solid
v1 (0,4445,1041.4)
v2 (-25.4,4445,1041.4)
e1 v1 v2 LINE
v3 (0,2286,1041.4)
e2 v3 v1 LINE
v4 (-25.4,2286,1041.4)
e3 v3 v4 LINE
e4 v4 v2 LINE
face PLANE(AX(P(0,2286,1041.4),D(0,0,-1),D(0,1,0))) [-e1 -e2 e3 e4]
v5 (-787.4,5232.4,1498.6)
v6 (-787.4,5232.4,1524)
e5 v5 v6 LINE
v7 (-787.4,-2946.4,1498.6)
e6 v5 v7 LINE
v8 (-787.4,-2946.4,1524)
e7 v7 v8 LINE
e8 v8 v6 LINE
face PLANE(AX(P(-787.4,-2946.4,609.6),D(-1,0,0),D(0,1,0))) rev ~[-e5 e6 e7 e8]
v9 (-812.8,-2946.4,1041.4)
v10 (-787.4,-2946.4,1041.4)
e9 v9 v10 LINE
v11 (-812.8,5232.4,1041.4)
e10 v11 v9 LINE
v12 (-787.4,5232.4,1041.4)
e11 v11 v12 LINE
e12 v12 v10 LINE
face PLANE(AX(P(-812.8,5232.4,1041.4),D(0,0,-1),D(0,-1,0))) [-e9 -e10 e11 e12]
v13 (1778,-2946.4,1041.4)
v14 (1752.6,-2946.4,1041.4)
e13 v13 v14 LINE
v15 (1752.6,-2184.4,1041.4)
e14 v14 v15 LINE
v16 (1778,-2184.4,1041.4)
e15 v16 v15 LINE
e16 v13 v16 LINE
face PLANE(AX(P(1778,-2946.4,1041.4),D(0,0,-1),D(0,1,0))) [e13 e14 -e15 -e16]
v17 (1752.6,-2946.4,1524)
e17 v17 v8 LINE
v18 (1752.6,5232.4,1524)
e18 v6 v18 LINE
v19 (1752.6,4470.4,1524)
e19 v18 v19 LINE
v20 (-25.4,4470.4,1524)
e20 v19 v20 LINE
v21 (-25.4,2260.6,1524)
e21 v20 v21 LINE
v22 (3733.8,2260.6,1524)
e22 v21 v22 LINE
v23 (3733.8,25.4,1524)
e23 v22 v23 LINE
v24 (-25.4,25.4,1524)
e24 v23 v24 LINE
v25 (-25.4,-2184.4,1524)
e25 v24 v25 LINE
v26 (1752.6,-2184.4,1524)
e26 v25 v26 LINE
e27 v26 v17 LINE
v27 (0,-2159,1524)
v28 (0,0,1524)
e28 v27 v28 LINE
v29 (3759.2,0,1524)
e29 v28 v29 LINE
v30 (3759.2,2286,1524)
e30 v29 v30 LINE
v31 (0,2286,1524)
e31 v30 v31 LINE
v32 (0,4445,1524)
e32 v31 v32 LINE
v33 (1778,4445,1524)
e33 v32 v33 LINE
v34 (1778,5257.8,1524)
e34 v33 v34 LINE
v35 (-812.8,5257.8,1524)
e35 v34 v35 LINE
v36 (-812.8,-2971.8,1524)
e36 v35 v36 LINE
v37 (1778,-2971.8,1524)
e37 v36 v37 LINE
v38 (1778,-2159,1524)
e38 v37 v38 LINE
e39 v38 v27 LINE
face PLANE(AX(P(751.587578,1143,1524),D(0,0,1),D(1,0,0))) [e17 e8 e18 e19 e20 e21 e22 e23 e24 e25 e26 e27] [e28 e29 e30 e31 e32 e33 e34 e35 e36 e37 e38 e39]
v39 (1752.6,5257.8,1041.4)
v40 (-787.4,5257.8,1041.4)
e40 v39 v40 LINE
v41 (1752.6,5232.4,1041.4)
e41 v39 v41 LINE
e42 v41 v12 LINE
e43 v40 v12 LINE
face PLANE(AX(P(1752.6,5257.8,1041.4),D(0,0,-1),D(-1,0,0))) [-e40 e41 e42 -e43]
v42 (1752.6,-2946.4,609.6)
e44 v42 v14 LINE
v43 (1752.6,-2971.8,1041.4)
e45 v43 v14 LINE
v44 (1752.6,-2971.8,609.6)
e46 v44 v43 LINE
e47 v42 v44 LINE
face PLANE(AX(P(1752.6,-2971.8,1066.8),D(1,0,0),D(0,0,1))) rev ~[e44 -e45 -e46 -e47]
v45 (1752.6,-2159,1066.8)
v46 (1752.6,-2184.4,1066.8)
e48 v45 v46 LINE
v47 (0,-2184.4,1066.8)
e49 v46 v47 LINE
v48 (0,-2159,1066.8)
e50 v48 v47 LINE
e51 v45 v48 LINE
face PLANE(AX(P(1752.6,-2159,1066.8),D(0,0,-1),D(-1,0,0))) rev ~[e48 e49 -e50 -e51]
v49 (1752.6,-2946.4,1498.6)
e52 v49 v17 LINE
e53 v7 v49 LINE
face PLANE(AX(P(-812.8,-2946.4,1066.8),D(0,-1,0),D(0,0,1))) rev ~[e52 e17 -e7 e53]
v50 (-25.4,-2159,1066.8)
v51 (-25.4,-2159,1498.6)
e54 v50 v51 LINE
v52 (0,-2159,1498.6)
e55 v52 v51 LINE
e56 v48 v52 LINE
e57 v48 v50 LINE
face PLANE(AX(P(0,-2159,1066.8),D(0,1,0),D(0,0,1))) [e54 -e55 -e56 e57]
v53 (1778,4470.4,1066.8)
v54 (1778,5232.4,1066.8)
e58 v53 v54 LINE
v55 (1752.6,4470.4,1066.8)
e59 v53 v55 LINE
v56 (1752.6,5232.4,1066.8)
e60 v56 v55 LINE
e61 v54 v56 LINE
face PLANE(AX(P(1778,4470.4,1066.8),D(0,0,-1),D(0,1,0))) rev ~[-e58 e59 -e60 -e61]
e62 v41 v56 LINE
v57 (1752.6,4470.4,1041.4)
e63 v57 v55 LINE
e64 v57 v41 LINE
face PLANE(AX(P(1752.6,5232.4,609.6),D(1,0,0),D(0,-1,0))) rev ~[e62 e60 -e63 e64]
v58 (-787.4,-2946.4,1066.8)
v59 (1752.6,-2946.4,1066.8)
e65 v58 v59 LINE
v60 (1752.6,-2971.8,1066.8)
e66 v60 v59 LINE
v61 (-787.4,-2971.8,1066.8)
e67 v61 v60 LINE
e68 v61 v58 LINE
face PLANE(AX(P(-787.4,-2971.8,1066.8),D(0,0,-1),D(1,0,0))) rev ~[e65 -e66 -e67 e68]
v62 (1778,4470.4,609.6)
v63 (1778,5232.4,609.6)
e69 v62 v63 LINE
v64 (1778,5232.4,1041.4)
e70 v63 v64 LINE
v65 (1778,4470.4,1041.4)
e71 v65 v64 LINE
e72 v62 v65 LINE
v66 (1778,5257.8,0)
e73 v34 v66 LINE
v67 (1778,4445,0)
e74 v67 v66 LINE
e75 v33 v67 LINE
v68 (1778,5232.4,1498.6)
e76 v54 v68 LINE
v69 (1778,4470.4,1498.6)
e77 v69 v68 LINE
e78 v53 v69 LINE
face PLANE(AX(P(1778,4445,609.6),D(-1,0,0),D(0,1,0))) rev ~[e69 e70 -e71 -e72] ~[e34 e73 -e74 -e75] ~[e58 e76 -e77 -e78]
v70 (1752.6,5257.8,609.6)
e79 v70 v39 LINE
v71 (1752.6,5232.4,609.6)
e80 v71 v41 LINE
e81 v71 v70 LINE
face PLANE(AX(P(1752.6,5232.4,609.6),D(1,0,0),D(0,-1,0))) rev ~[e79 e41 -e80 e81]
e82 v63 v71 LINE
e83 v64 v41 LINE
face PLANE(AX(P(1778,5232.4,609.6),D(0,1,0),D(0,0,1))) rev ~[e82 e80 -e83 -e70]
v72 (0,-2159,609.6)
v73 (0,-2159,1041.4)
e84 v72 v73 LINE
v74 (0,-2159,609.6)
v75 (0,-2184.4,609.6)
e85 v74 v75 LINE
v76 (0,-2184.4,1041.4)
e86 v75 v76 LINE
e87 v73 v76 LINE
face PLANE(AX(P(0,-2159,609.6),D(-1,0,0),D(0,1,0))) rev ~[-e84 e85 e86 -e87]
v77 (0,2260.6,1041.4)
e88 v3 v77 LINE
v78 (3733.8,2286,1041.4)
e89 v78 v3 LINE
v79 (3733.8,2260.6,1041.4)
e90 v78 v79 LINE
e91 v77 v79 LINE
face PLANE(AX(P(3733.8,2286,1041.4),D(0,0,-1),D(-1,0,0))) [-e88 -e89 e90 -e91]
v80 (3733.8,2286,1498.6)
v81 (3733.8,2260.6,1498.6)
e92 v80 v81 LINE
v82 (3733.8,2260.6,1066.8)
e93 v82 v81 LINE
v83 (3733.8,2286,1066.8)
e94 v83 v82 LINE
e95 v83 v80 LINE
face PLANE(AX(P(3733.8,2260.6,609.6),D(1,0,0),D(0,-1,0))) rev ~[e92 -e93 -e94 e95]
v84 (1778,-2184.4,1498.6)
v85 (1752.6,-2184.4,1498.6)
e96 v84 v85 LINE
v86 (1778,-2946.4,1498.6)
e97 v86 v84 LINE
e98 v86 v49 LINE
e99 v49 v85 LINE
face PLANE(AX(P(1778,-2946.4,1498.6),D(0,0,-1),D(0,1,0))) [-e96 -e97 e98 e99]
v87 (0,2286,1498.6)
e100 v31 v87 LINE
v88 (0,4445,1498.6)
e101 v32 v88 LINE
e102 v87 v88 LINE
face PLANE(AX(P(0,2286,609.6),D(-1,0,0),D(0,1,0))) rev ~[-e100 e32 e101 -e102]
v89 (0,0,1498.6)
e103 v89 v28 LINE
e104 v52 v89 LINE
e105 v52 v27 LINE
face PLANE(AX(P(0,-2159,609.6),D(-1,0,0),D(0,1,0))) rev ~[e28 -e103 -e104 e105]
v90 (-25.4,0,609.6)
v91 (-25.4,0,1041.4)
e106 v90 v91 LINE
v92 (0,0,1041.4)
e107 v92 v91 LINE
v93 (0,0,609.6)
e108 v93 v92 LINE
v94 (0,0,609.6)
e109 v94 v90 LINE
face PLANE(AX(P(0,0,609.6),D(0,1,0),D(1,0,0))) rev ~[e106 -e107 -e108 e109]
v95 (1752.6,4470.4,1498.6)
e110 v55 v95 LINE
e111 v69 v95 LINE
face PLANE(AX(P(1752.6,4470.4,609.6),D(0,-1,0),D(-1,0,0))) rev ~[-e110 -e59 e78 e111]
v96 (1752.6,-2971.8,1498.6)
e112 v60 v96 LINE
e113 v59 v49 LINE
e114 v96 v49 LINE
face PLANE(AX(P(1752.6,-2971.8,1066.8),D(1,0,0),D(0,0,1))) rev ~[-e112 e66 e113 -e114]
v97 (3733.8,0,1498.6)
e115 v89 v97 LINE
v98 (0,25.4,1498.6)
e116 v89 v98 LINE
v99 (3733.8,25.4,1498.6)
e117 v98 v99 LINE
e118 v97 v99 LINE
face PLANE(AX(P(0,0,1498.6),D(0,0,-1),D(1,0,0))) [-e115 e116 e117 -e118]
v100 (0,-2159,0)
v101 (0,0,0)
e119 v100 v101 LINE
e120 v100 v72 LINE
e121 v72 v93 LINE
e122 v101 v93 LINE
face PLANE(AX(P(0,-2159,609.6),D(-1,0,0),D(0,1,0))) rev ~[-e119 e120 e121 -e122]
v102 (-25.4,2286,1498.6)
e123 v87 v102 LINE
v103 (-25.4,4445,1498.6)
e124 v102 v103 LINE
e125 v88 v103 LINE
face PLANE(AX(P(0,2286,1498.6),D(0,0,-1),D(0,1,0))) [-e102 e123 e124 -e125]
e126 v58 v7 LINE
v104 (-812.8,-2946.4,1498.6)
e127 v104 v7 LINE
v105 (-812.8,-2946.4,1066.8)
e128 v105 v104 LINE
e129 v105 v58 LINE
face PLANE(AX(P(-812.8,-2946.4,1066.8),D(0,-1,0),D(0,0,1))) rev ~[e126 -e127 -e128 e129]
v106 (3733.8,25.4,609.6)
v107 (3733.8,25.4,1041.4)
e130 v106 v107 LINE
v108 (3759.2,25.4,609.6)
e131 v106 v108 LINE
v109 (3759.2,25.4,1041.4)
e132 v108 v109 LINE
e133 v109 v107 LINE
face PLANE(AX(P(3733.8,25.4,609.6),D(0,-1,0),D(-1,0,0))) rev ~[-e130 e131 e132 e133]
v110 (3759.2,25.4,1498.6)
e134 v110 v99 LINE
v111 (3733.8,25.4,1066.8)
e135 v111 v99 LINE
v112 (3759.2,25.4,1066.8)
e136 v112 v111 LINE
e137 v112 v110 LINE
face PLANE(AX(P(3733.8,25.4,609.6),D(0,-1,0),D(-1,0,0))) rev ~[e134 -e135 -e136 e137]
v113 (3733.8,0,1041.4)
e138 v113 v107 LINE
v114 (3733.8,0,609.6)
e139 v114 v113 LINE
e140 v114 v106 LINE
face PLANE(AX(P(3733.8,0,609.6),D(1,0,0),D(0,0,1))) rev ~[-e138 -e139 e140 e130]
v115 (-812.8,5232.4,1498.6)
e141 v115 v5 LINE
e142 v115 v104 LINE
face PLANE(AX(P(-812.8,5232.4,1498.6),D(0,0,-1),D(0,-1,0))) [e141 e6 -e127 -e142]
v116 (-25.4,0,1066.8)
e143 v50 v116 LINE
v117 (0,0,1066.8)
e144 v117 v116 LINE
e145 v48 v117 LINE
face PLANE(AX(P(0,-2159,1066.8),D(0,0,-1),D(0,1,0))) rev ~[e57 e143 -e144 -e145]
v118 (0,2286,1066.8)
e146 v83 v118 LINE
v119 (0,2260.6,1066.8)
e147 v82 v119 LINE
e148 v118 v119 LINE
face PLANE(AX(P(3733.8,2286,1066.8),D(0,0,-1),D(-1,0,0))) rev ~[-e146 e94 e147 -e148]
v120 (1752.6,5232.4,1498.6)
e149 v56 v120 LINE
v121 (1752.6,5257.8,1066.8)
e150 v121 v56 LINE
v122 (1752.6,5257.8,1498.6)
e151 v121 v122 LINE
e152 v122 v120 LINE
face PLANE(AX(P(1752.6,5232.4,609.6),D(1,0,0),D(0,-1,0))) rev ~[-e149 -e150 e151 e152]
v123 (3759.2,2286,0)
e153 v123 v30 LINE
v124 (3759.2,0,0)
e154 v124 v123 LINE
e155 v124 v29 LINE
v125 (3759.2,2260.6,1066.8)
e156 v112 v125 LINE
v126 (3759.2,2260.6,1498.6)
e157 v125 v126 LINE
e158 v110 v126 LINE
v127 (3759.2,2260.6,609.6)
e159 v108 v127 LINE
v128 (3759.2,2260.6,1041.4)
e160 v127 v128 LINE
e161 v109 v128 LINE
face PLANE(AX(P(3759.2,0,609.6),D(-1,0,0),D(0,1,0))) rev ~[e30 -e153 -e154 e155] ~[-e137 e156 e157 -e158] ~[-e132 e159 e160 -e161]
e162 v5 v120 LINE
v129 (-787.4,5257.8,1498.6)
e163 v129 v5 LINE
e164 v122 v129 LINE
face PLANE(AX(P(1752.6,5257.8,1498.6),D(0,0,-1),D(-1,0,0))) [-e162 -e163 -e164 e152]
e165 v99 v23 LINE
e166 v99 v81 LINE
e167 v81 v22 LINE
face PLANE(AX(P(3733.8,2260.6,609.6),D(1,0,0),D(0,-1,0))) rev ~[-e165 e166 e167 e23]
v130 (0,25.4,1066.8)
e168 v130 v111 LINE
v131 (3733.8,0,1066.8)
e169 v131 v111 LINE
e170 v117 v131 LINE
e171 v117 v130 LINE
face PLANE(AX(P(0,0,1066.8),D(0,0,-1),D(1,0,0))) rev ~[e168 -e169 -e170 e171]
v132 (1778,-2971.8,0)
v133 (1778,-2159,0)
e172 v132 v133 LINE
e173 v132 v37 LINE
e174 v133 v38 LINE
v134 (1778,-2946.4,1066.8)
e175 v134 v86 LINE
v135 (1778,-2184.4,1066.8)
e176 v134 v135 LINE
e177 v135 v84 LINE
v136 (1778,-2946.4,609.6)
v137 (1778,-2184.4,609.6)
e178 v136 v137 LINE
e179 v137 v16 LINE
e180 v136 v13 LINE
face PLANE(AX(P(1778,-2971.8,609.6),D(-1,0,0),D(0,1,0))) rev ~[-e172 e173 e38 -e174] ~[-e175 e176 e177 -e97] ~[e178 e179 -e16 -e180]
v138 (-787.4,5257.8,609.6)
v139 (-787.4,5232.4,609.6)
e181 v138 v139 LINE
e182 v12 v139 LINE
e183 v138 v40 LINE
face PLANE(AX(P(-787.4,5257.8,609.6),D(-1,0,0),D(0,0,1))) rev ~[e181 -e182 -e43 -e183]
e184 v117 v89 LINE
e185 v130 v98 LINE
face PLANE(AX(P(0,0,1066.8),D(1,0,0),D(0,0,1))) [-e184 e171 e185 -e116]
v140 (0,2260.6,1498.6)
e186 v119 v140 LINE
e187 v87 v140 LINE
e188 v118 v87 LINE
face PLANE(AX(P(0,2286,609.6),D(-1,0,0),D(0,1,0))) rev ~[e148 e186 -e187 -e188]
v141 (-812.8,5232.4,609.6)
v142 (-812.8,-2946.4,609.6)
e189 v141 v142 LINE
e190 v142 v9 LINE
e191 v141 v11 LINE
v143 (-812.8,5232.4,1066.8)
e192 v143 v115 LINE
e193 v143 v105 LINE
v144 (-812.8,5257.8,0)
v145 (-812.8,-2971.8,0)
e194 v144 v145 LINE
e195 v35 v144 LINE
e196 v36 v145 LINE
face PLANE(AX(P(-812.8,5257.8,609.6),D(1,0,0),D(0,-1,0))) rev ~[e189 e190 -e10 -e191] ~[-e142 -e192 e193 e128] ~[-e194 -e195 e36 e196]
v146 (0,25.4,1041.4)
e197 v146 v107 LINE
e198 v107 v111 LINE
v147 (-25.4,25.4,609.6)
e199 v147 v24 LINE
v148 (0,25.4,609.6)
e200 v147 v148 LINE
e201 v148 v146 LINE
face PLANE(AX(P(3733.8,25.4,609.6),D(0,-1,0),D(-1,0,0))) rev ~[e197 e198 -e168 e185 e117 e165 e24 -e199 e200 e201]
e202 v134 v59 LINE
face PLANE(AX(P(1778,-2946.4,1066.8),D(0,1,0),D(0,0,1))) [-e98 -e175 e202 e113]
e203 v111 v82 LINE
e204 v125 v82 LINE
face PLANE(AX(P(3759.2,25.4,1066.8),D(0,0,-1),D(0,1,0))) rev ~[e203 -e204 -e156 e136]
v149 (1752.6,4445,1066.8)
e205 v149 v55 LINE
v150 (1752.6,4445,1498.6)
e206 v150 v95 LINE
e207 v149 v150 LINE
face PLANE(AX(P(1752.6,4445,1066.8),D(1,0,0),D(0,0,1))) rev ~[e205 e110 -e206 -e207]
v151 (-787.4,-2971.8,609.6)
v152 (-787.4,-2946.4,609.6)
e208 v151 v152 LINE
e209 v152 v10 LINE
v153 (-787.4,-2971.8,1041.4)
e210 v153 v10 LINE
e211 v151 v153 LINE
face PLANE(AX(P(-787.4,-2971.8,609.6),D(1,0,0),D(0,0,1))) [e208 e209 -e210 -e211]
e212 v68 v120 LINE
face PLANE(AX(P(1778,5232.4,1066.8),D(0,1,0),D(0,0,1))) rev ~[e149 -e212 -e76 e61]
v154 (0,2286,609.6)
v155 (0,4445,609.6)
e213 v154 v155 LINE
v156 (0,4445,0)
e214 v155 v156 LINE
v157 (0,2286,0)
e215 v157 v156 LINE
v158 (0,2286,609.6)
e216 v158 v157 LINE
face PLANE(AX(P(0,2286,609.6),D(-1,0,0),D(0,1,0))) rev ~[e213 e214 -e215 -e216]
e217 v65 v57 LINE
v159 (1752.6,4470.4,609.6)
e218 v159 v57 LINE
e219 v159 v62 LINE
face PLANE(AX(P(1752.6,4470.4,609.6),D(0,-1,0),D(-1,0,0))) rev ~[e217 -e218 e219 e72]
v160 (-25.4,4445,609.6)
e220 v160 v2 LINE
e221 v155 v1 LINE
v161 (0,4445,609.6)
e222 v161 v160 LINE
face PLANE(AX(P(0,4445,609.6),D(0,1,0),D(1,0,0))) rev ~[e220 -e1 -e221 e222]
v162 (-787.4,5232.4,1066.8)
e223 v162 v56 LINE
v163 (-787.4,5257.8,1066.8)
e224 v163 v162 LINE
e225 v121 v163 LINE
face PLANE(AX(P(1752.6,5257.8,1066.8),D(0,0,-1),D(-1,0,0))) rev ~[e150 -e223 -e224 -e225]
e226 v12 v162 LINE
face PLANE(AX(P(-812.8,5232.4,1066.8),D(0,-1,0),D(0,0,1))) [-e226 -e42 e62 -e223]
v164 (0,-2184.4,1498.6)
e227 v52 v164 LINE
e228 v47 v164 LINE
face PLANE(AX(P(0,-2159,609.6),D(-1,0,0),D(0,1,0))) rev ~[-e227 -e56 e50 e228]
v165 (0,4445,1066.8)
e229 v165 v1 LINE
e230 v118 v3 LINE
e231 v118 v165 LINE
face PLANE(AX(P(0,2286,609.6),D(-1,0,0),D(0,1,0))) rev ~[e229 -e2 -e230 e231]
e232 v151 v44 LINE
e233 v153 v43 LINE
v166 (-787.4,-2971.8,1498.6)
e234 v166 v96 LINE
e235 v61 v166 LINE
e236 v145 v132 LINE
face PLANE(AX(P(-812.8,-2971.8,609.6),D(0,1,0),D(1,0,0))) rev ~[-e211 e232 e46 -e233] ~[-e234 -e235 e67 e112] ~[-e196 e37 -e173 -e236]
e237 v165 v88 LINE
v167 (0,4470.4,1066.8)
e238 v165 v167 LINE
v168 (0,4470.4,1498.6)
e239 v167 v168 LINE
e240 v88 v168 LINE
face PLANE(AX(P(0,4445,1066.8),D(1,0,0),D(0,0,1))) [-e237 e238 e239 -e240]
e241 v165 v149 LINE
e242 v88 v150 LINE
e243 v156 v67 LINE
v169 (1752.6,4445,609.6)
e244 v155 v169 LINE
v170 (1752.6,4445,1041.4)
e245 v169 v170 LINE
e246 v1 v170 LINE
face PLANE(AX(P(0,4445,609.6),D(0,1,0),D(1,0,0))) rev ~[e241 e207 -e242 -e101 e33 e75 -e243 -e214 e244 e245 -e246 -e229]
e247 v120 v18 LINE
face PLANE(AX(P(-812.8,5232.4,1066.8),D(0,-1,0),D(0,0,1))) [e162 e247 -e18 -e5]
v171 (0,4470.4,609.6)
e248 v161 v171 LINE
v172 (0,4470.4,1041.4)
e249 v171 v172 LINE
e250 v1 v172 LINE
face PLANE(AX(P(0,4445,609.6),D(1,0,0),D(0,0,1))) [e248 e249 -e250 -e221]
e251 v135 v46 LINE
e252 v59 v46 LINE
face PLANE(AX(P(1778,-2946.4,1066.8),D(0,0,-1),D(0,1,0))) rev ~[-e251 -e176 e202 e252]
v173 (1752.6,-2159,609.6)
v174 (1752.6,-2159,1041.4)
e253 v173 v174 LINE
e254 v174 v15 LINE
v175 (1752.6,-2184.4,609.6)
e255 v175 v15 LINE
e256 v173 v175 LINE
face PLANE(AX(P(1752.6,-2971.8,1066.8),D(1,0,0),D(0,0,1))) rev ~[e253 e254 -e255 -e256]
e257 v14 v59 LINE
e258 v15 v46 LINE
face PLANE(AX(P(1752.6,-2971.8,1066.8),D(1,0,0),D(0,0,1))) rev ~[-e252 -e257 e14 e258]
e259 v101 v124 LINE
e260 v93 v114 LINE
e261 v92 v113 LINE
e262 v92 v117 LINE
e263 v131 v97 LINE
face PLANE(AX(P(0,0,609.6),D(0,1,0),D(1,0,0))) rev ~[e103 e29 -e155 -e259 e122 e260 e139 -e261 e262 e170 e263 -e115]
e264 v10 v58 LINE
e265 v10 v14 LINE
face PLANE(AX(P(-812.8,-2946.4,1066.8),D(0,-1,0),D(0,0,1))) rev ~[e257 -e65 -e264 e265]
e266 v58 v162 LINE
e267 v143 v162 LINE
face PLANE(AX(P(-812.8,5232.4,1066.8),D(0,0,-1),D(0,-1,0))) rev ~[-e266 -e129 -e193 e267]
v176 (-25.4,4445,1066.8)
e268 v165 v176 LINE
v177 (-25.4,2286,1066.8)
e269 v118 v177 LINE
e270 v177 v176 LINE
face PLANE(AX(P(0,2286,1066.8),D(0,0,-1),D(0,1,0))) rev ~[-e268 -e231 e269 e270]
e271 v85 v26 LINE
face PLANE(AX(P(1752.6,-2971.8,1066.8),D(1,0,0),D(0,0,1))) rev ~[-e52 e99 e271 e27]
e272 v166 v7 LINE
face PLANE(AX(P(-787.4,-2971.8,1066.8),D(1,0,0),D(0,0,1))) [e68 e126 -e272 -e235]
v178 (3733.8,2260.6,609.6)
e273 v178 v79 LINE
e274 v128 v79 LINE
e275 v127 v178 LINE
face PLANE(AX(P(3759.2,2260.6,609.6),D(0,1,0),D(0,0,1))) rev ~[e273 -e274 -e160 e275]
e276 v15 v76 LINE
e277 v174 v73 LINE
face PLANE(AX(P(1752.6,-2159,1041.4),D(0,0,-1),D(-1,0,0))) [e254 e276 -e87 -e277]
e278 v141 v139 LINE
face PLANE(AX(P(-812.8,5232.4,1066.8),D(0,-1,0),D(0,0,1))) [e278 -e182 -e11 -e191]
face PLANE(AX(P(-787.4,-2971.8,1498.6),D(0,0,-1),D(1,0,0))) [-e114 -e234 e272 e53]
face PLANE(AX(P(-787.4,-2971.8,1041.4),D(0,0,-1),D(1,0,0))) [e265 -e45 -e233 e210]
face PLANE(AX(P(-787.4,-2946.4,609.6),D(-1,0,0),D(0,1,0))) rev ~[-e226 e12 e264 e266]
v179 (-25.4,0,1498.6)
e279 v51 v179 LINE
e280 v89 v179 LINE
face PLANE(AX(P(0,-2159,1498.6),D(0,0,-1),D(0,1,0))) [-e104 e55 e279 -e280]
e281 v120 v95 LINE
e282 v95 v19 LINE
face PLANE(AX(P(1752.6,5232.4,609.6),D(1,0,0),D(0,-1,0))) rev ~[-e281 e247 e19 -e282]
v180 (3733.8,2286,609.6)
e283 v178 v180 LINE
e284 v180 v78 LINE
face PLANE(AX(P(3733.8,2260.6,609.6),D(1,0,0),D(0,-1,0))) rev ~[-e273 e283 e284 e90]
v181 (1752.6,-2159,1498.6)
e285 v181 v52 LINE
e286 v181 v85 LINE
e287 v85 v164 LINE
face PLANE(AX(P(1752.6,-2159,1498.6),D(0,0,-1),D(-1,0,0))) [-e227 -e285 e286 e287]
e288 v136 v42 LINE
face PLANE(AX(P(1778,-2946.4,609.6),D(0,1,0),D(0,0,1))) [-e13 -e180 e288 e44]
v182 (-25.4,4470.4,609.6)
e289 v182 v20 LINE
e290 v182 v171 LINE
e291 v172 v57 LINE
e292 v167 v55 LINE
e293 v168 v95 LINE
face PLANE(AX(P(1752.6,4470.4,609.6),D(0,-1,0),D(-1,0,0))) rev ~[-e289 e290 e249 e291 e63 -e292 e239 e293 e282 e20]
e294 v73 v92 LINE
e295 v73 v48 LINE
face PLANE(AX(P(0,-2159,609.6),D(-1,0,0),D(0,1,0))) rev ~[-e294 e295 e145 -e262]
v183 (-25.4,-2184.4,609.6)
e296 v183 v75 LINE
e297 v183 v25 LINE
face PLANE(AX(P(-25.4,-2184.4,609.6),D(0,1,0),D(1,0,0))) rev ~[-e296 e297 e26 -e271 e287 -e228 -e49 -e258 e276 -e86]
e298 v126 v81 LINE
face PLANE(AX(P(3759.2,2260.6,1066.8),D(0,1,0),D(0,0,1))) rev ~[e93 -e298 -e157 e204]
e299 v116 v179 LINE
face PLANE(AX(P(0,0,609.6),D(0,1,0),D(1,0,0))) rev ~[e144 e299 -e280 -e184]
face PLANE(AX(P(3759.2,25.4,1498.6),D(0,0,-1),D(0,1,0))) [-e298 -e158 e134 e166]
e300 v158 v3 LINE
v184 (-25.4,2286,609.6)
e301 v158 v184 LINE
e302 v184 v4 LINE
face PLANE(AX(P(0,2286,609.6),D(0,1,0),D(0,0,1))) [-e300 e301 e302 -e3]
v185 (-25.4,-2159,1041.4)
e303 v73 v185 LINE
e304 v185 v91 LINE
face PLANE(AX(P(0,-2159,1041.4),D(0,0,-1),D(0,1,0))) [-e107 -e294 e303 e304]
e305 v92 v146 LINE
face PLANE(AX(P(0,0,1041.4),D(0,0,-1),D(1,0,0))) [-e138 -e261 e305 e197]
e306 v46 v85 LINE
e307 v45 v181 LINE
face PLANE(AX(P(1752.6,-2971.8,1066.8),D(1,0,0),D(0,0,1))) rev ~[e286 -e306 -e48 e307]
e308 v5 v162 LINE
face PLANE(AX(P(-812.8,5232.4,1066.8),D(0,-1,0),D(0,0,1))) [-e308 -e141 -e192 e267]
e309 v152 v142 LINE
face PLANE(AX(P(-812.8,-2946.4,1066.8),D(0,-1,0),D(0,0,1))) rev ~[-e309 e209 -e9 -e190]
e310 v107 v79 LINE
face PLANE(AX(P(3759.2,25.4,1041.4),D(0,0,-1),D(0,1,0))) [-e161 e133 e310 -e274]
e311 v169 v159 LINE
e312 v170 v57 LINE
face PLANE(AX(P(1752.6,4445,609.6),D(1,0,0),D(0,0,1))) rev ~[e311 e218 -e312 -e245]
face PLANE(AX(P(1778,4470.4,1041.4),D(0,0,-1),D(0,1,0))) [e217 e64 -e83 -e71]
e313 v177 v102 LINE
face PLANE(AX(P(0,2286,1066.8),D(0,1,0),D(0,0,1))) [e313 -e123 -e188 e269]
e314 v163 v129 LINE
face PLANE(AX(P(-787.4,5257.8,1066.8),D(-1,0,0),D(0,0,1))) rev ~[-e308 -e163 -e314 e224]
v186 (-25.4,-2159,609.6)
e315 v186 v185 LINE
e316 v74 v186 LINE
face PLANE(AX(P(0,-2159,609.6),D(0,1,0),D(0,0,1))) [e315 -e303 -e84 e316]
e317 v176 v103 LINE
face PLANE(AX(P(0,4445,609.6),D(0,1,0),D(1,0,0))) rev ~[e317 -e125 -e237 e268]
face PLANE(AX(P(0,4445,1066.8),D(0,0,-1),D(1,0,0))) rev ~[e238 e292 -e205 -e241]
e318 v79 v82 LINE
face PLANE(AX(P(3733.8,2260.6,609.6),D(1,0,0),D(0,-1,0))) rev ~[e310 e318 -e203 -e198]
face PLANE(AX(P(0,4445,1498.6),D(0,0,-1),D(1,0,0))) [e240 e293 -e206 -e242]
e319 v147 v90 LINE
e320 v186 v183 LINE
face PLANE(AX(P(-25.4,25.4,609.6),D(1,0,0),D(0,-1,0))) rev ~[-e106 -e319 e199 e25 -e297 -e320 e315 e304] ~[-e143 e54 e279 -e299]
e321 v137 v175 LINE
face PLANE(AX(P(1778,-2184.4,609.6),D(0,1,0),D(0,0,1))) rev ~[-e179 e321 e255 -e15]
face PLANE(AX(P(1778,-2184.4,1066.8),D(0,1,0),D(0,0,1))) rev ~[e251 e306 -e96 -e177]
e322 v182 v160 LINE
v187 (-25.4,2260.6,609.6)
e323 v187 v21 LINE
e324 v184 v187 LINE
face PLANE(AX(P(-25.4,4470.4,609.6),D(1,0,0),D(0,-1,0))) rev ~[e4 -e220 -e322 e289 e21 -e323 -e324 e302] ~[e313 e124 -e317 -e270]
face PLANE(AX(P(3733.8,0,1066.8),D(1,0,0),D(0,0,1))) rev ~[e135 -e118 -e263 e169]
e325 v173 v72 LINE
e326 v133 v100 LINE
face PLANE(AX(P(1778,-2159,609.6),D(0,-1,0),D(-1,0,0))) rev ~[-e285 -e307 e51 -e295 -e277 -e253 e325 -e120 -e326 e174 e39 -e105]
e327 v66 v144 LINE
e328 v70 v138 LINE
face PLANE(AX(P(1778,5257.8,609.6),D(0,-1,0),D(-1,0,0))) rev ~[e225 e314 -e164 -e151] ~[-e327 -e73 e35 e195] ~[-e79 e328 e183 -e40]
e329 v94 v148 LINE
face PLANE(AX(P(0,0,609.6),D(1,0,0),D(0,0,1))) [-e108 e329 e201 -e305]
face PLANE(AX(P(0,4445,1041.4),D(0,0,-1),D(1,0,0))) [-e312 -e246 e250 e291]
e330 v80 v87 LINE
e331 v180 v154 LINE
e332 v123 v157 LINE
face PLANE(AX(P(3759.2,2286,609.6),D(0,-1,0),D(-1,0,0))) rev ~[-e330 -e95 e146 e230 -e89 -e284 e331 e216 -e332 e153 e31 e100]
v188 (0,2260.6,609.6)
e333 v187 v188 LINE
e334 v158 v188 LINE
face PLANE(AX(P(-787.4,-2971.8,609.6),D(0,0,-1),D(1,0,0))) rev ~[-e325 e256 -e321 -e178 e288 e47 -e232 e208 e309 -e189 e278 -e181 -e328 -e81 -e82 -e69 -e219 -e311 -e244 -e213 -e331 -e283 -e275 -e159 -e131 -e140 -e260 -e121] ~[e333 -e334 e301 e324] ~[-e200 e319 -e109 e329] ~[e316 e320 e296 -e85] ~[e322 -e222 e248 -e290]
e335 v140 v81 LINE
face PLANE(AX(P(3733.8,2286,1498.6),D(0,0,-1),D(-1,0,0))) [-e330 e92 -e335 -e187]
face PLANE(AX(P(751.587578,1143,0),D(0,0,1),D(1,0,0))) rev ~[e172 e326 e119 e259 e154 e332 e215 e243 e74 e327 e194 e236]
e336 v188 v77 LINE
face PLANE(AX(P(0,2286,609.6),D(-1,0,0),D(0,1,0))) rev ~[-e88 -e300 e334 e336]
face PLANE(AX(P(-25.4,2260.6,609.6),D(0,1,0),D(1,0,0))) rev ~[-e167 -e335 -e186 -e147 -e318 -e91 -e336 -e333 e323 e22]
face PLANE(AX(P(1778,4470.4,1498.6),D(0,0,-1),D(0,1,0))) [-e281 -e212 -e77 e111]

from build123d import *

# Parameters (mm, degrees)
F1_DEPTH  = 609.6
F3_DEPTH  = 914.4
F4_W      = 8178.8
F4_H      = 431.8
F5_DEPTH  = 50.8
F6_W      = 2540
F6_H      = 431.8
F7_DEPTH  = 76.2
F8_W      = 3733.8
F8_H      = 431.8
F9_DEPTH  = 76.2
F10_W     = 2235.2
F10_H     = 431.8
F11_DEPTH = 76.2
F12_W     = 2540
F12_H     = 431.8
F13_DEPTH = 76.2
F14_W     = 762
F14_H     = 431.8
F15_DEPTH = 76.2
F16_W     = 2159
F16_H     = 431.8
F17_DEPTH = 76.2
F18_W     = 1752.6
F18_H     = 431.8
F19_DEPTH = 76.2
F20_W     = 1752.6
F20_H     = 431.8
F21_DEPTH = 50.8
F22_W     = 762
F22_H     = 431.8
F23_DEPTH = 25.4
F24_W     = 2159
F24_H     = 431.8
F25_DEPTH = 25.4
F26_W     = 3733.8
F26_H     = 431.8
F27_DEPTH = 25.4


with BuildPart() as f1:
    # F0 (on Top) → F1 (new body)
    with BuildSketch(Plane.XY):
        Polygon((0, -2159), (0, 0), (3759.2, 0), (3759.2, 2286), (0, 2286), (0, 4445), (1778, 4445), (1778, 5257.8), (-812.8, 5257.8), (-812.8, -2971.8), (1778, -2971.8), (1778, -2159), align=None)
    extrude(amount=F1_DEPTH)

    # F2 (on face) → F3 (join)
    with BuildSketch(Plane.XY.offset(609.6)):
        Polygon((-812.8, -2971.8), (1778, -2971.8), (1778, -2159), (0, -2159), (0, 0), (3759.2, 0), (3759.2, 2286), (0, 2286), (0, 4445), (1778, 4445), (1778, 5257.8), (-812.8, 5257.8), align=None)
        Polygon((1752.6, -2946.4), (-787.4, -2946.4), (-787.4, 5232.4), (1752.6, 5232.4), (1752.6, 4470.4), (-25.4, 4470.4), (-25.4, 2260.6), (3733.8, 2260.6), (3733.8, 25.4), (-25.4, 25.4), (-25.4, -2184.4), (1752.6, -2184.4), align=None, mode=Mode.SUBTRACT)
    extrude(amount=F3_DEPTH)

    # F4 (on face) → F5 (cut)
    with BuildSketch(Plane(origin=(-812.8, 0, 0), x_dir=(0, -1, 0), z_dir=(-1, 0, 0))):
        with Locations((-1143, 1282.7)):
            Rectangle(F4_W, F4_H)
        with Locations((-1143, 825.5)):
            Rectangle(F4_W, F4_H)
    extrude(amount=-F5_DEPTH, mode=Mode.SUBTRACT)

    # F6 (on face) → F7 (cut)
    with BuildSketch(Plane.XZ.offset(2971.8)):
        with Locations((482.6, 1282.7)):
            Rectangle(F6_W, F6_H)
        with Locations((482.6, 825.5)):
            Rectangle(F6_W, F6_H)
    extrude(amount=-F7_DEPTH, mode=Mode.SUBTRACT)

    # F8 (on face) → F9 (cut)
    with BuildSketch(Plane(origin=(0, 2286, 0), x_dir=(-1, 0, 0), z_dir=(0, 1, 0))):
        with Locations((-1866.9, 1282.7)):
            Rectangle(F8_W, F8_H)
        with Locations((-1866.9, 825.5)):
            Rectangle(F8_W, F8_H)
    extrude(amount=-F9_DEPTH, mode=Mode.SUBTRACT)

    # F10 (on face) → F11 (cut)
    with BuildSketch(Plane.YZ.offset(3759.2)):
        with Locations((1143, 1282.7)):
            Rectangle(F10_W, F10_H)
        with Locations((1143, 825.5)):
            Rectangle(F10_W, F10_H)
    extrude(amount=-F11_DEPTH, mode=Mode.SUBTRACT)

    # F12 (on face) → F13 (cut)
    with BuildSketch(Plane(origin=(0, 5257.8, 0), x_dir=(-1, 0, 0), z_dir=(0, 1, 0))):
        with Locations((-482.6, 1282.7)):
            Rectangle(F12_W, F12_H)
        with Locations((-482.6, 825.5)):
            Rectangle(F12_W, F12_H)
    extrude(amount=-F13_DEPTH, mode=Mode.SUBTRACT)

    # F14 (on face) → F15 (cut)
    with BuildSketch(Plane.YZ.offset(1778)):
        with Locations((4851.4, 1282.7)):
            Rectangle(F14_W, F14_H)
        with Locations((4851.4, 825.5)):
            Rectangle(F14_W, F14_H)
    extrude(amount=-F15_DEPTH, mode=Mode.SUBTRACT)

    # F16 (on face) → F17 (cut)
    with BuildSketch(Plane.YZ):
        with Locations((3365.5, 1282.7)):
            Rectangle(F16_W, F16_H)
        with Locations((3365.5, 825.5)):
            Rectangle(F16_W, F16_H)
    extrude(amount=-F17_DEPTH, mode=Mode.SUBTRACT)

    # F18 (on face) → F19 (cut)
    with BuildSketch(Plane.XZ.offset(-4445)):
        with Locations((876.3, 1282.7)):
            Rectangle(F18_W, F18_H)
        with Locations((876.3, 825.5)):
            Rectangle(F18_W, F18_H)
    extrude(amount=-F19_DEPTH, mode=Mode.SUBTRACT)

    # F20 (on face) → F21 (cut)
    with BuildSketch(Plane(origin=(0, -2159, 0), x_dir=(-1, 0, 0), z_dir=(0, 1, 0))):
        with Locations((-876.3, 1282.7)):
            Rectangle(F20_W, F20_H)
        with Locations((-876.3, 825.5)):
            Rectangle(F20_W, F20_H)
    extrude(amount=-F21_DEPTH, mode=Mode.SUBTRACT)

    # F22 (on face) → F23 (cut)
    with BuildSketch(Plane.YZ.offset(1778)):
        with Locations((-2565.4, 1282.7)):
            Rectangle(F22_W, F22_H)
        with Locations((-2565.4, 825.5)):
            Rectangle(F22_W, F22_H)
    extrude(amount=-F23_DEPTH, mode=Mode.SUBTRACT)

    # F24 (on face) → F25 (cut)
    with BuildSketch(Plane.YZ):
        with Locations((-1079.5, 1282.7)):
            Rectangle(F24_W, F24_H)
        with Locations((-1079.5, 825.5)):
            Rectangle(F24_W, F24_H)
    extrude(amount=-F25_DEPTH, mode=Mode.SUBTRACT)

    # F26 (on face) → F27 (cut)
    with BuildSketch(Plane.XZ):
        with Locations((1866.9, 1282.7)):
            Rectangle(F26_W, F26_H)
        with Locations((1866.9, 825.5)):
            Rectangle(F26_W, F26_H)
    extrude(amount=-F27_DEPTH, mode=Mode.SUBTRACT)


solid = f1.part
